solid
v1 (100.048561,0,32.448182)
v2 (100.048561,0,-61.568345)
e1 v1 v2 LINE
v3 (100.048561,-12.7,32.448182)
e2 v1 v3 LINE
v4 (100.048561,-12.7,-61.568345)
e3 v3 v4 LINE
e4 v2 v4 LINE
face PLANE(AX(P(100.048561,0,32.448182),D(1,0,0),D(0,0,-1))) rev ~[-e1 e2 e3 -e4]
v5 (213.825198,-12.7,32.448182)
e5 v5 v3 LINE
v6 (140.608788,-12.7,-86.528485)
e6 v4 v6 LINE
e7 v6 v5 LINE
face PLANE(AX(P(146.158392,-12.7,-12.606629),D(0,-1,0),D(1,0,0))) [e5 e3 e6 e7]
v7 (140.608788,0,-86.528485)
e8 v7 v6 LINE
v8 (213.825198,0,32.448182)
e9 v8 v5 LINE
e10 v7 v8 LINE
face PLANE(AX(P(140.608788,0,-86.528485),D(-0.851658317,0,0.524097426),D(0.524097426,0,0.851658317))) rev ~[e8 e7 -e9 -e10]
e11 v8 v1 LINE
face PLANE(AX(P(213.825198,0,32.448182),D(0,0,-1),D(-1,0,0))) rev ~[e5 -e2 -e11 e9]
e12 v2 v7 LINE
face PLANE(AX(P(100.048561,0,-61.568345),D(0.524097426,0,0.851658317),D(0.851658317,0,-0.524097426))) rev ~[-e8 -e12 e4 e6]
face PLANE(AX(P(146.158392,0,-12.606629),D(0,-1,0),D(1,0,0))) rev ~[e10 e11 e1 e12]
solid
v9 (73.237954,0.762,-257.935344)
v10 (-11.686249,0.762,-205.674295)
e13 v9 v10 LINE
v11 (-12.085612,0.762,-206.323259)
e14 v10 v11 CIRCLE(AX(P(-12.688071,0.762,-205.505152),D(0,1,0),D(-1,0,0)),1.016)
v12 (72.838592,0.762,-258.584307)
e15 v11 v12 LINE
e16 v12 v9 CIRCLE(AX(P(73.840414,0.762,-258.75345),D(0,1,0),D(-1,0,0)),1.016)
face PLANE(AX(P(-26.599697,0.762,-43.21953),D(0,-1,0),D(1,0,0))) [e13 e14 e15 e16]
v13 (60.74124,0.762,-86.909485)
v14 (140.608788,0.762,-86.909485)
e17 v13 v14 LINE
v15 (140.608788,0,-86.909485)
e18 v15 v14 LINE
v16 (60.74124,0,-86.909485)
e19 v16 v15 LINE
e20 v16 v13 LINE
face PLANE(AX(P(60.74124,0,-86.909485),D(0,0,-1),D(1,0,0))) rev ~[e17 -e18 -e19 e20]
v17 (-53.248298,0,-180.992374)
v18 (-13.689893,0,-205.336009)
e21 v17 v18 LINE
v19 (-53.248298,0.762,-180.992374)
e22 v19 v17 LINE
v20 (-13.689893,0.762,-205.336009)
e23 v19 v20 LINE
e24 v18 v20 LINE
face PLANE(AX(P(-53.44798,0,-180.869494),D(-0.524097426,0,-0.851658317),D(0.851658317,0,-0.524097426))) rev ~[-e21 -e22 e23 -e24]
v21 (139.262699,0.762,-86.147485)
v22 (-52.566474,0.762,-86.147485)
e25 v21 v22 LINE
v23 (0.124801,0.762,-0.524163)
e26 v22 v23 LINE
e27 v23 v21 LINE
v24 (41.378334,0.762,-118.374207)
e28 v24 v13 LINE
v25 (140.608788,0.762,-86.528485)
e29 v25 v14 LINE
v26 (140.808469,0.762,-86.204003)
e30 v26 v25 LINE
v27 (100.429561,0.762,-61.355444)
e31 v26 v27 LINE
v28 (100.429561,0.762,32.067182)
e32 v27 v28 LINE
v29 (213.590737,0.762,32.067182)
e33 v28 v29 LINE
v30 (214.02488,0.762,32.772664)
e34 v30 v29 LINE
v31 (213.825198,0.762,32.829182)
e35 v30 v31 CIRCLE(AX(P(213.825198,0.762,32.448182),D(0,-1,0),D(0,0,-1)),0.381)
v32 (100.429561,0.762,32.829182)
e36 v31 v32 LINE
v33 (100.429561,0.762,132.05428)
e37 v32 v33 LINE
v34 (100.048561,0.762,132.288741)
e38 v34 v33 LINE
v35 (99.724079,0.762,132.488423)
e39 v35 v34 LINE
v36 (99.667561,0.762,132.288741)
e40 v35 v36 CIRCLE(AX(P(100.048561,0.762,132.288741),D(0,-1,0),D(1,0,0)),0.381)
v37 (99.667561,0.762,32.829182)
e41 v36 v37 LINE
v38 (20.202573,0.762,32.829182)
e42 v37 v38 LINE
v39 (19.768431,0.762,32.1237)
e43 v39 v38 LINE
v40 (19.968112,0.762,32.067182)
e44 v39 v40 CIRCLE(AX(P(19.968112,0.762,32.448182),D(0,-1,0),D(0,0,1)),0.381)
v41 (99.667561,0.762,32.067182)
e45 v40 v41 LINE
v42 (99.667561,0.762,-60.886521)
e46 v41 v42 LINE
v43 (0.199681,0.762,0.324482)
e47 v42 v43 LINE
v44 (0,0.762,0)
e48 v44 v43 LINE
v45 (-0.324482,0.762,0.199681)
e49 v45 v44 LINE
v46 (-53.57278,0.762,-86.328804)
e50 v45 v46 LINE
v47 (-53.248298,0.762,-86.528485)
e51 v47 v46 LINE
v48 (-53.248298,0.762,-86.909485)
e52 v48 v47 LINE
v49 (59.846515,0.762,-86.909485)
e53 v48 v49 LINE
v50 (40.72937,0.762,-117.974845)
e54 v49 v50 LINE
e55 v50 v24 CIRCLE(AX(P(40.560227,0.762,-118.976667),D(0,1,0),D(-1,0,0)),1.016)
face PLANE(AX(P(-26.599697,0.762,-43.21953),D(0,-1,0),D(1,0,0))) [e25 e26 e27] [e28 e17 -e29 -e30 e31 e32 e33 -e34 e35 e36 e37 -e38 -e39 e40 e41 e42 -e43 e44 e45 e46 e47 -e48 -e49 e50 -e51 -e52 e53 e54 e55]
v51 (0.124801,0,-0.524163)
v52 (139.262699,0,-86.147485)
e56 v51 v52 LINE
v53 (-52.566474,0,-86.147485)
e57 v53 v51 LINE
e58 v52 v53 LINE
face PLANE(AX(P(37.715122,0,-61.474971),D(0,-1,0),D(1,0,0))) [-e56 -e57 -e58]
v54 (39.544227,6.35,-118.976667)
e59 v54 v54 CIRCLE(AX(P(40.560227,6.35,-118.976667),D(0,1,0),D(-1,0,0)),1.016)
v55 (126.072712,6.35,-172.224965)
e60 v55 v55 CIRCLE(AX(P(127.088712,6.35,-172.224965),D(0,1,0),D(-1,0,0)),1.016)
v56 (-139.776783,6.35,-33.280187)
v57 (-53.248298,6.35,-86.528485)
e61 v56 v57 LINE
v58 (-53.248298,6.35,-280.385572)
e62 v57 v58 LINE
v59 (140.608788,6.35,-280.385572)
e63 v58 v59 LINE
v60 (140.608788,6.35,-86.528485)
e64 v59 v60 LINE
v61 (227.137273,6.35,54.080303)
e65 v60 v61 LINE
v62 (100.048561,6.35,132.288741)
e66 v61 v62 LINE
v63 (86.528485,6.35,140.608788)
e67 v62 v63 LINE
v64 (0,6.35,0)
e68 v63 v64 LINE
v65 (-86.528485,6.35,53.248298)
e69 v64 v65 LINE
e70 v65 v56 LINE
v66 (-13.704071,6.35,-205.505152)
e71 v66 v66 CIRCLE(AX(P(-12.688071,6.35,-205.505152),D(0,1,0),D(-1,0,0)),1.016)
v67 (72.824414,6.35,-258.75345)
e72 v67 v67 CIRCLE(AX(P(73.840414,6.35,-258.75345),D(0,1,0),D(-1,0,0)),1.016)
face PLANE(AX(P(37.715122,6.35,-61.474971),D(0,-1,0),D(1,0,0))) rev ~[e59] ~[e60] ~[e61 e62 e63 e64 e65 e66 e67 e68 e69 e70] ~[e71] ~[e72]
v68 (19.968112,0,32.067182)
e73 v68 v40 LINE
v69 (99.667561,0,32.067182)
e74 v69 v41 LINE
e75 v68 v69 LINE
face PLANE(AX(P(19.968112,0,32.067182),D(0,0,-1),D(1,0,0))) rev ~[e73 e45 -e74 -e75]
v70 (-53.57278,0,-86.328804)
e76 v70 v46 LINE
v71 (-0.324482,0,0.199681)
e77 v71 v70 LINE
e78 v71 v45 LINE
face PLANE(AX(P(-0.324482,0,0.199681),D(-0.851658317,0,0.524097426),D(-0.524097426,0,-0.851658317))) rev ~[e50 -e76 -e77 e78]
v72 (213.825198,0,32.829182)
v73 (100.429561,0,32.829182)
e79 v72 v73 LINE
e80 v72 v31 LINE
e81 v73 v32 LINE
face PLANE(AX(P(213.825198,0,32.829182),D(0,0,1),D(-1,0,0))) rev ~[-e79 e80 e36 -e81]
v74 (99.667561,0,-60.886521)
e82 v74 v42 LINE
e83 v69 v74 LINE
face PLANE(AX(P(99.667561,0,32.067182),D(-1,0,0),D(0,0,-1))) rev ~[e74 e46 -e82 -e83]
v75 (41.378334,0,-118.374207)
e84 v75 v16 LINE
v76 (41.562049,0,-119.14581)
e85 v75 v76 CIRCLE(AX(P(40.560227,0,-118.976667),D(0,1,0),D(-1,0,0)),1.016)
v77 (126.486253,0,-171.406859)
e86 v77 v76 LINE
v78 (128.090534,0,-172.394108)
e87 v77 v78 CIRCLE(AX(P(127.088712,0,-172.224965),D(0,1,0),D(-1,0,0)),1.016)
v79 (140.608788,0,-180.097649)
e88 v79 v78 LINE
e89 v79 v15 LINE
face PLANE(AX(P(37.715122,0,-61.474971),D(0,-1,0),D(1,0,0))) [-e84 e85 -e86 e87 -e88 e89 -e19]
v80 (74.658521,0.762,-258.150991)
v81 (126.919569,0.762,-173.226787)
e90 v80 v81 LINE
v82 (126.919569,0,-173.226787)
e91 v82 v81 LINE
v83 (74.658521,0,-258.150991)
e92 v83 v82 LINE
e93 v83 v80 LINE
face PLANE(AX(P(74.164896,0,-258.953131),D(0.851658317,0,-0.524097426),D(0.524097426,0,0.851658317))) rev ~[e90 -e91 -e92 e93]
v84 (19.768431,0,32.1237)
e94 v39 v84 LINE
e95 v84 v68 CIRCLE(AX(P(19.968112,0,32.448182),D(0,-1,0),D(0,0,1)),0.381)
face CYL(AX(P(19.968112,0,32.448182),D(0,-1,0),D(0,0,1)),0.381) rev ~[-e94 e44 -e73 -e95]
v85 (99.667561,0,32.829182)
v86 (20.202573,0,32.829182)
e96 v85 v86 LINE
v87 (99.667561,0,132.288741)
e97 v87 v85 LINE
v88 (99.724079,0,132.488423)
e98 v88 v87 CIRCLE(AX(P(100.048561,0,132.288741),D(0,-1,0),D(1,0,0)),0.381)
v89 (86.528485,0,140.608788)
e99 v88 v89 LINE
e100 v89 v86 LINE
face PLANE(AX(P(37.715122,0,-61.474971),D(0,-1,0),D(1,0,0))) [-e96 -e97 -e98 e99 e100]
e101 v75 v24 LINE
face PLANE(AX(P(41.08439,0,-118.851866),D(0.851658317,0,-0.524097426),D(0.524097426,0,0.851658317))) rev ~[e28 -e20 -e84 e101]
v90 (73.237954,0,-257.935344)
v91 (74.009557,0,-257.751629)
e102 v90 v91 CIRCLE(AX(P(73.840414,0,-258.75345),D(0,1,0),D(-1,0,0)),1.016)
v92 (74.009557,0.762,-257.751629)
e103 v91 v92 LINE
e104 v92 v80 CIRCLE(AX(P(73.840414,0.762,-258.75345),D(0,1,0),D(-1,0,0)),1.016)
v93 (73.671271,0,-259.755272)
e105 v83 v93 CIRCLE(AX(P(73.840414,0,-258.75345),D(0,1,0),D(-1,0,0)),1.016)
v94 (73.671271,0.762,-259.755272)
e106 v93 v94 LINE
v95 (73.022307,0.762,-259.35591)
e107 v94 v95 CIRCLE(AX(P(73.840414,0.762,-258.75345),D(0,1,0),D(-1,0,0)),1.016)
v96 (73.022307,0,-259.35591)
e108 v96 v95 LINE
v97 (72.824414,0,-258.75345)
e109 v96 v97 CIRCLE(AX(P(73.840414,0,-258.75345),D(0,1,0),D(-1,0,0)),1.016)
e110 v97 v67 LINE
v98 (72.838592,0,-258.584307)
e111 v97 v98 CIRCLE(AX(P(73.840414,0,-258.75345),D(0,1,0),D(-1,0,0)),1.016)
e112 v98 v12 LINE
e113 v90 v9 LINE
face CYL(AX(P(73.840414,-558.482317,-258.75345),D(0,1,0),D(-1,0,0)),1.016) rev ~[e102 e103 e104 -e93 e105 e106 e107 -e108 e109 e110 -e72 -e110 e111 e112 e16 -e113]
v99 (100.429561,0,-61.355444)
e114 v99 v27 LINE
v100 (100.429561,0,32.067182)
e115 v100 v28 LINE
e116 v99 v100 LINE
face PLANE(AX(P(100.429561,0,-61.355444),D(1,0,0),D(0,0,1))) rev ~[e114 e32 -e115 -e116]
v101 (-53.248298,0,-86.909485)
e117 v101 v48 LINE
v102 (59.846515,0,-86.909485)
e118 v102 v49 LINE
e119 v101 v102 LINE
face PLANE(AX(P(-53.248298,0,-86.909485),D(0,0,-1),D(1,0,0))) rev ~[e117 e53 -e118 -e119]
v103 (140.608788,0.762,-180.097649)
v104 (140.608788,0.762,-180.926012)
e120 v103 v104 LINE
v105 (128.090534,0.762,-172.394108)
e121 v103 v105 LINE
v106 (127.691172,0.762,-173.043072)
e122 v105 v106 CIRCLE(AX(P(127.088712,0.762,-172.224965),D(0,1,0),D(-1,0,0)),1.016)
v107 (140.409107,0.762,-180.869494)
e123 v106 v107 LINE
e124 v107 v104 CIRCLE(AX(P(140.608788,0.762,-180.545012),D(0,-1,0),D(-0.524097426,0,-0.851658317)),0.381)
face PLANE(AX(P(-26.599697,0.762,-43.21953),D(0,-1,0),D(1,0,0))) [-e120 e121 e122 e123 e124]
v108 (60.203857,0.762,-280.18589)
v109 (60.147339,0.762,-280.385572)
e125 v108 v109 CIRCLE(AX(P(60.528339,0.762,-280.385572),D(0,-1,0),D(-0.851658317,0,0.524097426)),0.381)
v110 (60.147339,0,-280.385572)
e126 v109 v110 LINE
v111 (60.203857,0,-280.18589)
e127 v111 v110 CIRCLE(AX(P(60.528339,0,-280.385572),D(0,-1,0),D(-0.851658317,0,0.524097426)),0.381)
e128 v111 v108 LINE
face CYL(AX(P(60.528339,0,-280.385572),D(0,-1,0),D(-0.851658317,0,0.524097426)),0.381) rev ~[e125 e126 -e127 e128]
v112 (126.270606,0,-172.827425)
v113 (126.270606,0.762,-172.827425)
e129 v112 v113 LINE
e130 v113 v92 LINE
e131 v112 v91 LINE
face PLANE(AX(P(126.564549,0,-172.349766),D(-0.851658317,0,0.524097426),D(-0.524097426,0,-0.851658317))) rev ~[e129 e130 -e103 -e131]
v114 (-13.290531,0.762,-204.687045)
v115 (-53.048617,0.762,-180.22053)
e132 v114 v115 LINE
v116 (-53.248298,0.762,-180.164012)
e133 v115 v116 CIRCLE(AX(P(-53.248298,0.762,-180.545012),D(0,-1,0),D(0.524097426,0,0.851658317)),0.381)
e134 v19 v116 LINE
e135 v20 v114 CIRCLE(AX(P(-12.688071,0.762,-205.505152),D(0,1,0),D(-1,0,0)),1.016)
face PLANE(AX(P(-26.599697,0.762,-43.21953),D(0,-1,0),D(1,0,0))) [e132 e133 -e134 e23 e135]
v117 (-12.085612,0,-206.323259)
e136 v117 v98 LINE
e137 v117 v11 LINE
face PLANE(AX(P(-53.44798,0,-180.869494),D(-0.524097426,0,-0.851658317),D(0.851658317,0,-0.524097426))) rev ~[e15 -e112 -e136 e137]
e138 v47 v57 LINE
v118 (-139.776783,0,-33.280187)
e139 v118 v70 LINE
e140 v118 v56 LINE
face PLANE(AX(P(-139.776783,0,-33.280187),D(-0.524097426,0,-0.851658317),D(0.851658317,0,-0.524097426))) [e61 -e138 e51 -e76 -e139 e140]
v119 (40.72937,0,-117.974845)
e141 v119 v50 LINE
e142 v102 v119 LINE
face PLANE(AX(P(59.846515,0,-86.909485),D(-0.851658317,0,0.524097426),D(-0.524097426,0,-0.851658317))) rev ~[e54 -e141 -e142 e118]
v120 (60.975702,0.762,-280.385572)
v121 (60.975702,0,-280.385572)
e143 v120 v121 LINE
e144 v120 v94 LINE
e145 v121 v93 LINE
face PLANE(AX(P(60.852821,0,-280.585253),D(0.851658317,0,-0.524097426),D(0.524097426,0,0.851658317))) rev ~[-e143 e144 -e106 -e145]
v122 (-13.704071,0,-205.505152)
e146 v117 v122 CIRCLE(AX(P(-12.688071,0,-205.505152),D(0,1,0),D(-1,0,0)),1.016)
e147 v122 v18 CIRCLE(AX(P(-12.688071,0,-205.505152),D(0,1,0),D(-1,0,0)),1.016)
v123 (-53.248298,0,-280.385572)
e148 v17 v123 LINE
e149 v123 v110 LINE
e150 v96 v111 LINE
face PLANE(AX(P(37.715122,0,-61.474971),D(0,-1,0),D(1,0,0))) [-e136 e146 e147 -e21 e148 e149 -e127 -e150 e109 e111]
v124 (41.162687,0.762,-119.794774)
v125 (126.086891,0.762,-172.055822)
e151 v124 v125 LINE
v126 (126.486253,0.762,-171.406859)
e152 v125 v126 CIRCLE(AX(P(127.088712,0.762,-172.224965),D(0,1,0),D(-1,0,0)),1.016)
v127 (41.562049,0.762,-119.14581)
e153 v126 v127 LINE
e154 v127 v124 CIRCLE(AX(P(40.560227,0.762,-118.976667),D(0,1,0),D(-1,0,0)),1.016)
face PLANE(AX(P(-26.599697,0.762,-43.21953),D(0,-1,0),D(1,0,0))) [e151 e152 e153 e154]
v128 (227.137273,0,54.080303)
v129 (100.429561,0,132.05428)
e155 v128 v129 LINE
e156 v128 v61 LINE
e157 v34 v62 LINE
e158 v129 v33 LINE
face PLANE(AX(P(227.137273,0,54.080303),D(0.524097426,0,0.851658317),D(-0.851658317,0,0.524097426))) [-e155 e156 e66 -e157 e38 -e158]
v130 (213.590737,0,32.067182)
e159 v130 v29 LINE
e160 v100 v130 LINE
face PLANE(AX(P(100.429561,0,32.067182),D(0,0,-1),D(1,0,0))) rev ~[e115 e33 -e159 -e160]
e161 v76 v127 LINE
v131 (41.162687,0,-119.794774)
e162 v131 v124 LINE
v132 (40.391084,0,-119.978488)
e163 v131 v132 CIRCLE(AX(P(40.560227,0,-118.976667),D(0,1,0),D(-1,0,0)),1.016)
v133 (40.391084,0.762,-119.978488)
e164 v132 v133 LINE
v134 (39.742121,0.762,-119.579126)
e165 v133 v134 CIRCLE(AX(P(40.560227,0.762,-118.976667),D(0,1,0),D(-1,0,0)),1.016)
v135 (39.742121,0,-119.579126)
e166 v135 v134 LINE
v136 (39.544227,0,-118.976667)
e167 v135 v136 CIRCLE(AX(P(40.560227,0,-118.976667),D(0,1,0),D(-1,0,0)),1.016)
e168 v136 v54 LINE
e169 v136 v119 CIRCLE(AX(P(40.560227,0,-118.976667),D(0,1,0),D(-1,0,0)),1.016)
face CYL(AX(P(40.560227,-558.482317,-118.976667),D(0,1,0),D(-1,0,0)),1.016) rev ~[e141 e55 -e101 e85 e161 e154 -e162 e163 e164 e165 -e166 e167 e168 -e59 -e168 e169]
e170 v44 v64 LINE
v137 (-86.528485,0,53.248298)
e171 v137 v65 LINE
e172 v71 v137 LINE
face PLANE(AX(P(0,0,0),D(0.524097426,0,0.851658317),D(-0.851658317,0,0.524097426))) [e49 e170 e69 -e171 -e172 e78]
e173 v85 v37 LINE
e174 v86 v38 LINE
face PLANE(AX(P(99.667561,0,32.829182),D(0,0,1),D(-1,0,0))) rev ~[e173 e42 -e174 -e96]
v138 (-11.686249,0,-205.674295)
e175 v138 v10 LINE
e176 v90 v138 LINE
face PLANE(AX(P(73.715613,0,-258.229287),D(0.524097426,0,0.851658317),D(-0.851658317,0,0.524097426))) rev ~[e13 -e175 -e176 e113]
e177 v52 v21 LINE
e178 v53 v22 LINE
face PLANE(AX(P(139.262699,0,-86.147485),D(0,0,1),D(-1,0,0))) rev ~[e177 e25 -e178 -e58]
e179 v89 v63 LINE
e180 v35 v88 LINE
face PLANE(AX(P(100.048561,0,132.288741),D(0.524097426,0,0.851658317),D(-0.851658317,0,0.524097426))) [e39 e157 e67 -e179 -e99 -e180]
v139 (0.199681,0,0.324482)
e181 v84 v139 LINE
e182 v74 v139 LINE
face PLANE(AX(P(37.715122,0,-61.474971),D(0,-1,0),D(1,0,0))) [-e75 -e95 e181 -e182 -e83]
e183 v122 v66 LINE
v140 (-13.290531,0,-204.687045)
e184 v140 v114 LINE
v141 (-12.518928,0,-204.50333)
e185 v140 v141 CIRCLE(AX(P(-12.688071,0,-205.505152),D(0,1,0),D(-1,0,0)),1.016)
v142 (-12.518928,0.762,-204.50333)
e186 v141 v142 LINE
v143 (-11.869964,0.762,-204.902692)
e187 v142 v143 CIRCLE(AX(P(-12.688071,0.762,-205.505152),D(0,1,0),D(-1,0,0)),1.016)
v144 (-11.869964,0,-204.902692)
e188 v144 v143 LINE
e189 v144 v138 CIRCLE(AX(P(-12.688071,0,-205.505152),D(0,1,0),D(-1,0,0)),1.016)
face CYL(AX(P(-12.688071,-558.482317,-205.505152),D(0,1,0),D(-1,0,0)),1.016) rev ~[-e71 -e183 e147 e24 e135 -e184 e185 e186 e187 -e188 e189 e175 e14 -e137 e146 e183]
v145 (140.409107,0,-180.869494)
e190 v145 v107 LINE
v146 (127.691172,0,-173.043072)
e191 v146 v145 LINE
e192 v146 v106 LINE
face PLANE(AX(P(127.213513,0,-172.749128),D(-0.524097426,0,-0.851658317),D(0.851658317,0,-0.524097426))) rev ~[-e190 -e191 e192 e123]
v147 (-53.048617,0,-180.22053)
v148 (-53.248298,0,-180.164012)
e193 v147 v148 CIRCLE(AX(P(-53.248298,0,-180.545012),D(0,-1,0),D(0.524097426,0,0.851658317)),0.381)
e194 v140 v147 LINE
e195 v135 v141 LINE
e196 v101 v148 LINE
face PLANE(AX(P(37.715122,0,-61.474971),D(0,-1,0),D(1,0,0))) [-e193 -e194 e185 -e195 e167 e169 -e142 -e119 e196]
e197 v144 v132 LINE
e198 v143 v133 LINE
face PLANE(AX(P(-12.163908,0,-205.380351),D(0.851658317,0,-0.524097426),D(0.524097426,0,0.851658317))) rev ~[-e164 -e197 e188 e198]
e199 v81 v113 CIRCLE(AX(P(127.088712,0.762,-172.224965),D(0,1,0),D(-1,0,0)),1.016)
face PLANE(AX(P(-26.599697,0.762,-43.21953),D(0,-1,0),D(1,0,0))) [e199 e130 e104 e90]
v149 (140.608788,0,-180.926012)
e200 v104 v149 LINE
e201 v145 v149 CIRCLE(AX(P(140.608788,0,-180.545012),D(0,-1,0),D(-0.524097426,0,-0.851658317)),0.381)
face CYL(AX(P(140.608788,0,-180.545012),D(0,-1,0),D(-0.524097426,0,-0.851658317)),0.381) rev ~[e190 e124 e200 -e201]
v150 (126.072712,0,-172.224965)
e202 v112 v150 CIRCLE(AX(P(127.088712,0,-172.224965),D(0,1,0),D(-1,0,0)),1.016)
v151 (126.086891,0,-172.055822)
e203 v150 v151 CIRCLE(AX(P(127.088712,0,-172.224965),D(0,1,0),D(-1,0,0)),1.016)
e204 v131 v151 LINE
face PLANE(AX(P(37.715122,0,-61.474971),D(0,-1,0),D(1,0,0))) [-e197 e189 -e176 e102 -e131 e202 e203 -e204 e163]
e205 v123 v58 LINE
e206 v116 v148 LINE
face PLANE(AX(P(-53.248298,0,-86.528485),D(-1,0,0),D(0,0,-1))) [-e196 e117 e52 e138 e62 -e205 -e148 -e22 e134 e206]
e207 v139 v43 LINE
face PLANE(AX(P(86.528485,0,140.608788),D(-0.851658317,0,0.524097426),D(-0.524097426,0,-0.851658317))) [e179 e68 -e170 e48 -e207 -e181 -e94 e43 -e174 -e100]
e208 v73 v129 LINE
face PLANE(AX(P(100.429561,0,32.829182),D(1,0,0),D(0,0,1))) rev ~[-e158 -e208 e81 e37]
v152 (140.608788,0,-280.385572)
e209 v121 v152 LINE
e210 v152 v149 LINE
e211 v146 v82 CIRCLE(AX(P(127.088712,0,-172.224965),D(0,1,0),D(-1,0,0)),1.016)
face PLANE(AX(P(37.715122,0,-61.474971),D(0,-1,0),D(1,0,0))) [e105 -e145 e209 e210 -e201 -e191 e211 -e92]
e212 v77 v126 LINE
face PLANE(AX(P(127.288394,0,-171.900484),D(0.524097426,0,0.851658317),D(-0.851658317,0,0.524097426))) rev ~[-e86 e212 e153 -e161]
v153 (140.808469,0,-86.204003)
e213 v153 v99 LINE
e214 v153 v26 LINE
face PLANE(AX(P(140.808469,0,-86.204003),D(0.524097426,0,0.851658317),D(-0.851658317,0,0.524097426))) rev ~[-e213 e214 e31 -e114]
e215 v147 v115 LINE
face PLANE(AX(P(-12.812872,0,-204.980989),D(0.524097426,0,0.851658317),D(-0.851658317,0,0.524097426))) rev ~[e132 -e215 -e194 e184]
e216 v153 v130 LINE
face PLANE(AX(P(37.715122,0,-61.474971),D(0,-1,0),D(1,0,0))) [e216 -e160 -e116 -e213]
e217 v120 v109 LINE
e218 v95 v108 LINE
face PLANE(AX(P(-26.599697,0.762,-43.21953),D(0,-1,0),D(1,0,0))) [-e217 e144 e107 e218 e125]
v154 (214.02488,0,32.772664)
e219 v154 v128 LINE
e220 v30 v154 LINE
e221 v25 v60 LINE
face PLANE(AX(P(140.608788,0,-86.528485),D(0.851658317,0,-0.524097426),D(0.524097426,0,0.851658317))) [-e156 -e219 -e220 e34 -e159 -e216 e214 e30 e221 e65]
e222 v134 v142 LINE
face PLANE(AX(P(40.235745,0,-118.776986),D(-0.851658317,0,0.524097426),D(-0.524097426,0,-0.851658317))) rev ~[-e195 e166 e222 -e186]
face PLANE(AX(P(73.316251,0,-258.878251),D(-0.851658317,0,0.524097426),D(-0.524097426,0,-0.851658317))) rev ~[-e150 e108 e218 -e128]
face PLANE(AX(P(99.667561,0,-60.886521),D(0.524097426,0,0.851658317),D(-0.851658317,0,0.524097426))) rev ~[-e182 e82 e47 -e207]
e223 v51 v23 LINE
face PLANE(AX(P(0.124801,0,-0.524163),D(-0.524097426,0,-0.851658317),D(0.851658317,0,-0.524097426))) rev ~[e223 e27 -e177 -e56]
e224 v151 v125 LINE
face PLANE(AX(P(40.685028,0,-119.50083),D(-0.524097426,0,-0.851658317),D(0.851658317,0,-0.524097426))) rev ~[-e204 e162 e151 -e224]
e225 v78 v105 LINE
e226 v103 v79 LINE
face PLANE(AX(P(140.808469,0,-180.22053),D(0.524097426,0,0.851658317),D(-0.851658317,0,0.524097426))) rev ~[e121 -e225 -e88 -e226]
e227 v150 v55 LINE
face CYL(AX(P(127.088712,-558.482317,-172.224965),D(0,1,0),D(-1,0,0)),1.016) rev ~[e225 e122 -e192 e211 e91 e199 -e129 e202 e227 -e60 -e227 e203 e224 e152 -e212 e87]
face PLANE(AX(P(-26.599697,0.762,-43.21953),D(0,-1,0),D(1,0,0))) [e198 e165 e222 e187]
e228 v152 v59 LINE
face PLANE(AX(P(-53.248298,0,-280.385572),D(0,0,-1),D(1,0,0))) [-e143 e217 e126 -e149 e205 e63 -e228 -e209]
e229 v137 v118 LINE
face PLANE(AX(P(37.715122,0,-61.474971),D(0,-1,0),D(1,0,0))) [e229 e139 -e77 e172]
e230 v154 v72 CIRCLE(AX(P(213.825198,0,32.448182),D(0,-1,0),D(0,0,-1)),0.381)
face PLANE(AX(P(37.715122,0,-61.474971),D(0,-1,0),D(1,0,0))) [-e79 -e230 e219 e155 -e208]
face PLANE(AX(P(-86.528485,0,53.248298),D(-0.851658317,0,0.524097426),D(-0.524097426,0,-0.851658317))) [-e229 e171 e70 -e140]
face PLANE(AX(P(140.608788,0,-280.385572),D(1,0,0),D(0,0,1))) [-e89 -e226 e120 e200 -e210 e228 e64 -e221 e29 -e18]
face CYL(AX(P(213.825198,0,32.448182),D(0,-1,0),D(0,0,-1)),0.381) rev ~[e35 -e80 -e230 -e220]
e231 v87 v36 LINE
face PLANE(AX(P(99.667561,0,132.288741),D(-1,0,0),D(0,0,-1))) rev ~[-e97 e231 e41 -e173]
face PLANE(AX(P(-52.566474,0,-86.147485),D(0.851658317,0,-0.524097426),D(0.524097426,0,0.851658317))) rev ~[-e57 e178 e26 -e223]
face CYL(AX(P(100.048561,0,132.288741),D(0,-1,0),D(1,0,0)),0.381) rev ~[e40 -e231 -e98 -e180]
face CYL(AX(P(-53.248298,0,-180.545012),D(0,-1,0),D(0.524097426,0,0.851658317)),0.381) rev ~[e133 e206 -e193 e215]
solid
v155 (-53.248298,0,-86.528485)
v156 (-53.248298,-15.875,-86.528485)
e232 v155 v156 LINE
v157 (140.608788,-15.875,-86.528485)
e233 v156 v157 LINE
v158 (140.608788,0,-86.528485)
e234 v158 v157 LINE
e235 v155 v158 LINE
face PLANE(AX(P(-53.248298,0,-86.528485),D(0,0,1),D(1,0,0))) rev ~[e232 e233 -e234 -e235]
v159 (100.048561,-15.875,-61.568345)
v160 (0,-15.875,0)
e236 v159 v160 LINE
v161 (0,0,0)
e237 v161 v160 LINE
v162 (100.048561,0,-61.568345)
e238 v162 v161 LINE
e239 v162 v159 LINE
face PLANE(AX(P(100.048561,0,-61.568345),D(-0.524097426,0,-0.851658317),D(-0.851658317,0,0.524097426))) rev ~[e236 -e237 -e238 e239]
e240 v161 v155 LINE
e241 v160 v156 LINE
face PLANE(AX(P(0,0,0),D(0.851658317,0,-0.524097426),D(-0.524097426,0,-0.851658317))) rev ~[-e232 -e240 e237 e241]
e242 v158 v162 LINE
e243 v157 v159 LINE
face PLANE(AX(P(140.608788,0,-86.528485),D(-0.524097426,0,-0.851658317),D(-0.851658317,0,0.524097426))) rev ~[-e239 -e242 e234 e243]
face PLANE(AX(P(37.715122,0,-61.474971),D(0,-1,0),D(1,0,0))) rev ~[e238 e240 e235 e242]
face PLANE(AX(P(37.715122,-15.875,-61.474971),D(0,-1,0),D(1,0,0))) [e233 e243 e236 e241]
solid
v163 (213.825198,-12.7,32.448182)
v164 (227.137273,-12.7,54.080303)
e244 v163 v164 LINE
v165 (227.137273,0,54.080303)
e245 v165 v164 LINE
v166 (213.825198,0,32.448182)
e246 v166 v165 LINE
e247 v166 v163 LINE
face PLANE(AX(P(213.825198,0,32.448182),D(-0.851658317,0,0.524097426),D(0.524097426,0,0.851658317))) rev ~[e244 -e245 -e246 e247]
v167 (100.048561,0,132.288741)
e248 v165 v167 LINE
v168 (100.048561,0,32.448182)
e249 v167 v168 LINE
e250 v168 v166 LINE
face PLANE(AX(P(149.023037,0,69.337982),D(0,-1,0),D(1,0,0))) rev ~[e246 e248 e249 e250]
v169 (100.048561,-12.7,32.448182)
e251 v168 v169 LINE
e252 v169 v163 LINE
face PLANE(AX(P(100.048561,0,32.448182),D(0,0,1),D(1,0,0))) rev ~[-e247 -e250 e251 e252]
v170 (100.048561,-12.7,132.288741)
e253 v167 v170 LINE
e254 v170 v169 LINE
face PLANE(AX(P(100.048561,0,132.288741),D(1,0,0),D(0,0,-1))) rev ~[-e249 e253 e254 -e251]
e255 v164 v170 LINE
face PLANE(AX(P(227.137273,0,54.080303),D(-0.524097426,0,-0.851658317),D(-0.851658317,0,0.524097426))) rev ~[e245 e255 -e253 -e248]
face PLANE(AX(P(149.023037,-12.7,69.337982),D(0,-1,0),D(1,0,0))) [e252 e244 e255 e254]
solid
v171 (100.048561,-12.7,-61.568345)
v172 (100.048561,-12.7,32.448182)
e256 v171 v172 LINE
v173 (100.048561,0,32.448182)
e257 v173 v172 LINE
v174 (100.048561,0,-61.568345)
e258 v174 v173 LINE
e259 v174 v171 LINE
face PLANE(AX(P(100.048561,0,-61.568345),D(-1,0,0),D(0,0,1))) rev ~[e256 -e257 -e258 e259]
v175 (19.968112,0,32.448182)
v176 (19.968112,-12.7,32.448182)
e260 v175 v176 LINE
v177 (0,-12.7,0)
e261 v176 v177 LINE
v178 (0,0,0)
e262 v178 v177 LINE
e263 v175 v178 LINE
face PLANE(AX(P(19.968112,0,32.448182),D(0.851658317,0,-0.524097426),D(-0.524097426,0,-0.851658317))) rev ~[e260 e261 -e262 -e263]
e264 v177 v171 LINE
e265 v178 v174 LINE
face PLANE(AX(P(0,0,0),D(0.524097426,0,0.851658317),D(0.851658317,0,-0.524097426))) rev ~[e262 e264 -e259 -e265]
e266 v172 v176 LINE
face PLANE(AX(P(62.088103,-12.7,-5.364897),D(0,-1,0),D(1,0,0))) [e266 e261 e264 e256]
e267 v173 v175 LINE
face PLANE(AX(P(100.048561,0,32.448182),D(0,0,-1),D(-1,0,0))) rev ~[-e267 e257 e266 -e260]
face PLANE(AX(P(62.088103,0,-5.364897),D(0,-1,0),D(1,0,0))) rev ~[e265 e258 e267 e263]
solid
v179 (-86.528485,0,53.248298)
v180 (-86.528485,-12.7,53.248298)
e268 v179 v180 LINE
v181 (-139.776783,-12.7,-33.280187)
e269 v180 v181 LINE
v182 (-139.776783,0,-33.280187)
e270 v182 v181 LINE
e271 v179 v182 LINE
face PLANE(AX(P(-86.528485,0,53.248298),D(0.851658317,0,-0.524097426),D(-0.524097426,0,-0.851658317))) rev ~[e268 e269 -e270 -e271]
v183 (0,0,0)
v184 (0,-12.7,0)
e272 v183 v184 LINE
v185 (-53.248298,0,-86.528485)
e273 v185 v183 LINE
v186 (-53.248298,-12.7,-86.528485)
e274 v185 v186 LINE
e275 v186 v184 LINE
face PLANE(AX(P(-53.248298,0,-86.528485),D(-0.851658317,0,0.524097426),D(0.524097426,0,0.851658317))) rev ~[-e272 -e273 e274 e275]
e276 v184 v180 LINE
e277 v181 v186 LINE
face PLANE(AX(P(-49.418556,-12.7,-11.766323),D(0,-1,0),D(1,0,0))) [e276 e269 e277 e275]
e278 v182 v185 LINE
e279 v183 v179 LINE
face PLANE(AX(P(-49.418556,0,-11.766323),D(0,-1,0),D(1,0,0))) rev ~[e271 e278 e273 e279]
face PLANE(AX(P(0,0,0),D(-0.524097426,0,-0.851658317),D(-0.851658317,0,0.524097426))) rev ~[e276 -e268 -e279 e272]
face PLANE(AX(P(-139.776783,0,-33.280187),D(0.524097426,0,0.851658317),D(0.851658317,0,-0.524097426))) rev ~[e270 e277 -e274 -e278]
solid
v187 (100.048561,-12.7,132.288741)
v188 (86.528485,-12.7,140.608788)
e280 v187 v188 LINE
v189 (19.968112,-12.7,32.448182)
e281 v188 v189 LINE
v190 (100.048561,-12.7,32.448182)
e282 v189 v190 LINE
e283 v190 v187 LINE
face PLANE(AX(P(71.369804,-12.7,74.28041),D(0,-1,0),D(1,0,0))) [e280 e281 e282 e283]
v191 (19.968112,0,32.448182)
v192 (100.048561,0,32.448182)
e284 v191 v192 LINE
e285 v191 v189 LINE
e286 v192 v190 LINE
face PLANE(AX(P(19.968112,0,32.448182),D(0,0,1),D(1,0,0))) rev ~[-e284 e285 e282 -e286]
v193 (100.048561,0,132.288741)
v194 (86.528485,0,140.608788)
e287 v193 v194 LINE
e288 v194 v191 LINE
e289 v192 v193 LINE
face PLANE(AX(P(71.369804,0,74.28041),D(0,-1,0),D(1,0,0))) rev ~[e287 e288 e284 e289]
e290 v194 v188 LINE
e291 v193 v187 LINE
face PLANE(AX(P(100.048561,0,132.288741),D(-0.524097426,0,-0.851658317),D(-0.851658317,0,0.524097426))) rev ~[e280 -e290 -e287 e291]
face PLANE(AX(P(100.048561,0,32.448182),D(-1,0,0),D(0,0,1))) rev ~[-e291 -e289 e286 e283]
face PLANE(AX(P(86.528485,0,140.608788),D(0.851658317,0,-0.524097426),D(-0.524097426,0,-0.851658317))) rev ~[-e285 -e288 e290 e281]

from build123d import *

# Parameters (mm, degrees)
F1_DEPTH = 6.35
F2_DEPTH = 15.875
F3_DEPTH = 12.7
F4_DEPTH = 12.7
F5_DEPTH = 12.7
F6_DEPTH = 12.7
F7_DEPTH = 12.7
F8_W     = 0.762
F8_H     = 0.762
F9_DEPTH = 0.762
F10_D    = 2.032


with BuildPart() as f1:
    # F0 (on Front) → F1 (new body)
    with BuildSketch(Plane.XZ):
        Polygon((100.0485607549, -61.5683450799), (0, 0), (-53.2482984475, -86.5284849772), (60.5283392509, -86.5284849772), (140.6087880879, -86.5284849772), align=None)
        Polygon((19.9681119178, 32.4481818664), (0, 0), (100.0485607549, -61.5683450799), (100.0485607549, 32.4481818664), align=None)
        Polygon((100.0485607549, 32.4481818664), (100.0485607549, -61.5683450799), (140.6087880879, -86.5284849772), (213.8251984532, 32.4481818664), align=None)
        Polygon((-53.2482984475, -86.5284849772), (0, 0), (-86.5284849772, 53.2482984475), align=None)
        Polygon((60.5283392509, -86.5284849772), (-53.2482984475, -86.5284849772), (-53.2482984475, -180.5450119235), (-12.6880711144, -205.5051518208), (40.5602273331, -118.9766668436), align=None)
        Polygon((-12.6880711144, -205.5051518208), (-53.2482984475, -180.5450119235), (-53.2482984475, -280.3855715126), (60.5283392509, -280.3855715126), (73.8404138627, -258.7534502683), align=None)
        Polygon((86.5284849772, 140.6087880879), (19.9681119178, 32.4481818664), (100.0485607549, 32.4481818664), (100.0485607549, 132.2887414555), align=None)
        Polygon((100.0485607549, 132.2887414555), (100.0485607549, 32.4481818664), (213.8251984532, 32.4481818664), (227.1372730651, 54.0803031107), align=None)
        Polygon((-139.7767834247, -33.2801865297), (-53.2482984475, -86.5284849772), (-86.5284849772, 53.2482984475), align=None)
        Polygon((140.6087880879, -86.5284849772), (60.5283392509, -86.5284849772), (40.5602273331, -118.9766668436), (127.0887123102, -172.2249652911), (140.6087880879, -180.5450119235), align=None)
        Polygon((127.0887123102, -172.2249652911), (40.5602273331, -118.9766668436), (-12.6880711144, -205.5051518208), (73.8404138627, -258.7534502683), align=None)
        Polygon((140.6087880879, -280.3855715126), (140.6087880879, -180.5450119235), (127.0887123102, -172.2249652911), (73.8404138627, -258.7534502683), (60.5283392509, -280.3855715126), align=None)
    extrude(amount=-F1_DEPTH)

    # F8 (on face) → F9 (cut)
    with BuildSketch(Plane.XZ):
        with BuildLine():
            ThreePointArc((-0.1996811192, -0.3244818187), (-0.3706391678, -0.0882474209), (-0.3244818187, 0.1996811192))
            Line((-0.3244818187, 0.1996811192), (-53.5727802662, -86.328803858))
            ThreePointArc((-53.5727802662, -86.328803858), (-53.4341512032, -86.1958894974), (-53.2482984475, -86.1474849772))
            Line((-53.2482984475, -86.1474849772), (-52.5664744016, -86.1474849772))
            Line((-52.5664744016, -86.1474849772), (0.1248006995, -0.5241629378))
            Line((0.1248006995, -0.5241629378), (-0.1996811192, -0.3244818187))
        make_face()
        with BuildLine():
            ThreePointArc((0.1996811192, 0.3244818187), (-0.0882474209, 0.3706391678), (-0.3244818187, 0.1996811192))
            ThreePointArc((-0.3244818187, 0.1996811192), (-0.3706391678, -0.0882474209), (-0.1996811192, -0.3244818187))
            Line((-0.1996811192, -0.3244818187), (0.1248006995, -0.5241629378))
            Line((0.1248006995, -0.5241629378), (0.3244818187, -0.1996811192))
            ThreePointArc((0.3244818187, -0.1996811192), (0.3706391678, 0.0882474209), (0.1996811192, 0.3244818187))
        make_face()
        with BuildLine():
            Line((99.6675607549, -60.8865210341), (0.1996811192, 0.3244818187))
            ThreePointArc((0.1996811192, 0.3244818187), (0.3706391678, 0.0882474209), (0.3244818187, -0.1996811192))
            Line((0.3244818187, -0.1996811192), (0.1248006995, -0.5241629378))
            Line((0.1248006995, -0.5241629378), (99.8488795797, -61.8928268641))
            ThreePointArc((99.8488795797, -61.8928268641), (99.715965259, -61.7541978069), (99.6675607549, -61.5683450799))
            Line((99.6675607549, -61.5683450799), (99.6675607549, -60.8865210341))
        make_face()
        with BuildLine():
            ThreePointArc((-53.2482984475, -86.1474849772), (-53.4341512032, -86.1958894974), (-53.5727802662, -86.328803858))
            ThreePointArc((-53.5727802662, -86.328803858), (-53.5808939273, -86.7143377329), (-53.2482984475, -86.9094849772))
            ThreePointArc((-53.2482984475, -86.9094849772), (-53.0624456918, -86.861080457), (-52.9238166288, -86.7281660964))
            Line((-52.9238166288, -86.7281660964), (-52.5664744016, -86.1474849772))
            Line((-52.5664744016, -86.1474849772), (-53.2482984475, -86.1474849772))
        make_face()
        Polygon((99.6675607549, 32.0671818664), (99.6675607549, -60.8865210341), (100.4295607549, -61.355444111), (100.4295607549, 32.0671818664), align=None)
        with BuildLine():
            Line((100.4295607549, -61.355444111), (99.6675607549, -60.8865210341))
            Line((99.6675607549, -60.8865210341), (99.6675607549, -61.5683450799))
            ThreePointArc((99.6675607549, -61.5683450799), (99.715965259, -61.7541978069), (99.8488795797, -61.8928268641))
            ThreePointArc((99.8488795797, -61.8928268641), (100.2344134819, -61.9009405758), (100.4295607549, -61.5683450799))
            Line((100.4295607549, -61.5683450799), (100.4295607549, -61.355444111))
        make_face()
        with BuildLine():
            ThreePointArc((-52.9238166288, -86.7281660964), (-53.0624456918, -86.861080457), (-53.2482984475, -86.9094849772))
            Line((-53.2482984475, -86.9094849772), (59.846515205, -86.9094849772))
            Line((59.846515205, -86.9094849772), (60.2038574322, -86.328803858))
            ThreePointArc((60.2038574322, -86.328803858), (60.3424864952, -86.1958894974), (60.5283392509, -86.1474849772))
            Line((60.5283392509, -86.1474849772), (-52.5664744016, -86.1474849772))
            Line((-52.5664744016, -86.1474849772), (-52.9238166288, -86.7281660964))
        make_face()
        with BuildLine():
            Line((140.8084692071, -86.2040031585), (100.4295607549, -61.355444111))
            Line((100.4295607549, -61.355444111), (100.4295607549, -61.5683450799))
            ThreePointArc((100.4295607549, -61.5683450799), (100.2344134819, -61.9009405758), (99.8488795797, -61.8928268641))
            Line((99.8488795797, -61.8928268641), (139.2626990134, -86.1474849772))
            Line((139.2626990134, -86.1474849772), (140.6087880879, -86.1474849772))
            ThreePointArc((140.6087880879, -86.1474849772), (140.7125508633, -86.1618867142), (140.8084692071, -86.2040031585))
        make_face()
        with BuildLine():
            Line((19.9681119178, 32.0671818664), (99.6675607549, 32.0671818664))
            Line((99.6675607549, 32.0671818664), (99.6675607549, 32.8291818664))
            Line((99.6675607549, 32.8291818664), (19.9681119178, 32.8291818664))
            ThreePointArc((19.9681119178, 32.8291818664), (19.5871119178, 32.4481818664), (19.9681119178, 32.0671818664))
        make_face()
        with Locations((100.0485607549, 32.4481818664)):
            Rectangle(F8_W, F8_H)
        with BuildLine():
            Line((60.2038574322, -86.328803858), (59.846515205, -86.9094849772))
            Line((59.846515205, -86.9094849772), (60.7412402198, -86.9094849772))
            Line((60.7412402198, -86.9094849772), (60.8528210695, -86.7281660964))
            ThreePointArc((60.8528210695, -86.7281660964), (60.8609347307, -86.3426322215), (60.5283392509, -86.1474849772))
            ThreePointArc((60.5283392509, -86.1474849772), (60.3424864952, -86.1958894974), (60.2038574322, -86.328803858))
        make_face()
        with BuildLine():
            Line((60.7412402198, -86.9094849772), (59.846515205, -86.9094849772))
            Line((59.846515205, -86.9094849772), (40.2357454511, -118.7769858272))
            ThreePointArc((40.2357454511, -118.7769858272), (40.4719798534, -118.6060276898), (40.7599084522, -118.652185025))
            Line((40.7599084522, -118.652185025), (41.0843902709, -118.8518661441))
            Line((41.0843902709, -118.8518661441), (60.7412402198, -86.9094849772))
        make_face()
        with BuildLine():
            ThreePointArc((140.6087880879, -86.9094849772), (140.9753863509, -86.6322477525), (140.8084692071, -86.2040031585))
            ThreePointArc((140.8084692071, -86.2040031585), (140.7125508633, -86.1618867142), (140.6087880879, -86.1474849772))
            Line((140.6087880879, -86.1474849772), (139.2626990134, -86.1474849772))
            Line((139.2626990134, -86.1474849772), (140.4091069687, -86.8529667958))
            ThreePointArc((140.4091069687, -86.8529667958), (140.5050253126, -86.8950832402), (140.6087880879, -86.9094849772))
        make_face()
        with BuildLine():
            Line((100.4295607549, 32.8291818664), (100.4295607549, 32.0671818664))
            Line((100.4295607549, 32.0671818664), (213.8251984532, 32.0671818664))
            ThreePointArc((213.8251984532, 32.0671818664), (214.2061984532, 32.4481818664), (213.8251984532, 32.8291818664))
            Line((213.8251984532, 32.8291818664), (100.4295607549, 32.8291818664))
        make_face()
        with BuildLine():
            Line((99.6675607549, 132.2887414555), (99.6675607549, 32.8291818664))
            Line((99.6675607549, 32.8291818664), (100.4295607549, 32.8291818664))
            Line((100.4295607549, 32.8291818664), (100.4295607549, 132.2887414555))
            ThreePointArc((100.4295607549, 132.2887414555), (100.0485607549, 132.6697414555), (99.6675607549, 132.2887414555))
        make_face()
        with BuildLine():
            Line((60.8528210695, -86.7281660964), (60.7412402198, -86.9094849772))
            Line((60.7412402198, -86.9094849772), (140.6087880879, -86.9094849772))
            ThreePointArc((140.6087880879, -86.9094849772), (140.5050253126, -86.8950832402), (140.4091069687, -86.8529667958))
            Line((140.4091069687, -86.8529667958), (139.2626990134, -86.1474849772))
            Line((139.2626990134, -86.1474849772), (60.5283392509, -86.1474849772))
            ThreePointArc((60.5283392509, -86.1474849772), (60.8609347307, -86.3426322215), (60.8528210695, -86.7281660964))
        make_face()
        with BuildLine():
            ThreePointArc((40.3605462139, -119.3011486623), (40.1895881792, -119.0649143232), (40.2357454511, -118.7769858272))
            Line((40.2357454511, -118.7769858272), (-12.8128718139, -204.980988883))
            Line((-12.8128718139, -204.980988883), (-12.1639081766, -205.3803511213))
            Line((-12.1639081766, -205.3803511213), (40.6850280325, -119.5008297815))
            Line((40.6850280325, -119.5008297815), (40.3605462139, -119.3011486623))
        make_face()
        with BuildLine():
            ThreePointArc((40.7599084522, -118.652185025), (40.4719798534, -118.6060276898), (40.2357454511, -118.7769858272))
            ThreePointArc((40.2357454511, -118.7769858272), (40.1895881792, -119.0649143232), (40.3605462139, -119.3011486623))
            Line((40.3605462139, -119.3011486623), (40.6850280325, -119.5008297815))
            Line((40.6850280325, -119.5008297815), (41.0843902709, -118.8518661441))
            Line((41.0843902709, -118.8518661441), (40.7599084522, -118.652185025))
        make_face()
        with BuildLine():
            Line((127.288393621, -171.9004835903), (41.0843902709, -118.8518661441))
            Line((41.0843902709, -118.8518661441), (40.6850280325, -119.5008297815))
            Line((40.6850280325, -119.5008297815), (126.5645493724, -172.3497659906))
            Line((126.5645493724, -172.3497659906), (126.7642304916, -172.0252841719))
            ThreePointArc((126.7642304916, -172.0252841719), (127.0004649987, -171.8543260973), (127.288393621, -171.9004835903))
        make_face()
        with BuildLine():
            Line((-12.1639081766, -205.3803511213), (-12.8128718139, -204.980988883))
            Line((-12.8128718139, -204.980988883), (-13.0125529331, -205.3054707016))
            ThreePointArc((-13.0125529331, -205.3054707016), (-13.0587102847, -205.5933992313), (-12.8877522518, -205.8296336283))
            ThreePointArc((-12.8877522518, -205.8296336283), (-12.5998237039, -205.8757909911), (-12.3635892958, -205.70483294))
            Line((-12.3635892958, -205.70483294), (-12.1639081766, -205.3803511213))
        make_face()
        with BuildLine():
            Line((-13.0125529331, -205.3054707016), (-12.8128718139, -204.980988883))
            Line((-12.8128718139, -204.980988883), (-53.0486173283, -180.2205301049))
            ThreePointArc((-53.0486173283, -180.2205301049), (-53.5727802662, -180.3453308044), (-53.4479795667, -180.8694937422))
            Line((-53.4479795667, -180.8694937422), (-12.8877522518, -205.8296336283))
            ThreePointArc((-12.8877522518, -205.8296336283), (-13.0587102847, -205.5933992313), (-13.0125529331, -205.3054707016))
        make_face()
        with BuildLine():
            ThreePointArc((127.4131941289, -172.4246464103), (127.4593515041, -172.1367179796), (127.288393621, -171.9004835903))
            ThreePointArc((127.288393621, -171.9004835903), (127.0004649987, -171.8543260973), (126.7642304916, -172.0252841719))
            Line((126.7642304916, -172.0252841719), (126.5645493724, -172.3497659906))
            Line((126.5645493724, -172.3497659906), (127.2135130097, -172.749128229))
            Line((127.2135130097, -172.749128229), (127.4131941289, -172.4246464103))
        make_face()
        with BuildLine():
            Line((140.8084692071, -180.2205301049), (127.288393621, -171.9004835903))
            ThreePointArc((127.288393621, -171.9004835903), (127.4593515041, -172.1367179796), (127.4131941289, -172.4246464103))
            Line((127.4131941289, -172.4246464103), (127.2135130097, -172.749128229))
            Line((127.2135130097, -172.749128229), (140.4091069687, -180.8694937422))
            ThreePointArc((140.4091069687, -180.8694937422), (140.9332699066, -180.7446930427), (140.8084692071, -180.2205301049))
        make_face()
        with BuildLine():
            Line((73.7156131633, -258.2292873305), (-12.1639081766, -205.3803511213))
            Line((-12.1639081766, -205.3803511213), (-12.3635892958, -205.70483294))
            ThreePointArc((-12.3635892958, -205.70483294), (-12.5998237039, -205.8757909911), (-12.8877522518, -205.8296336283))
            Line((-12.8877522518, -205.8296336283), (73.3162509249, -258.8782509678))
            Line((73.3162509249, -258.8782509678), (73.7156131633, -258.2292873305))
        make_face()
        with BuildLine():
            Line((127.2135130097, -172.749128229), (126.5645493724, -172.3497659906))
            Line((126.5645493724, -172.3497659906), (73.7156131633, -258.2292873305))
            Line((73.7156131633, -258.2292873305), (74.0400949819, -258.4289684496))
            ThreePointArc((74.0400949819, -258.4289684496), (74.2110530292, -258.6652028416), (74.1648956876, -258.9531313773))
            Line((74.1648956876, -258.9531313773), (127.2135130097, -172.749128229))
        make_face()
        with BuildLine():
            Line((74.0400949819, -258.4289684496), (73.7156131633, -258.2292873305))
            Line((73.7156131633, -258.2292873305), (73.3162509249, -258.8782509678))
            Line((73.3162509249, -258.8782509678), (73.6407327436, -259.077932087))
            ThreePointArc((73.6407327436, -259.077932087), (73.9286612894, -259.1240894347), (74.1648956876, -258.9531313773))
            ThreePointArc((74.1648956876, -258.9531313773), (74.2110530292, -258.6652028416), (74.0400949819, -258.4289684496))
        make_face()
        with BuildLine():
            Line((73.6407327436, -259.077932087), (73.3162509249, -258.8782509678))
            Line((73.3162509249, -258.8782509678), (60.2038574322, -280.1858903934))
            ThreePointArc((60.2038574322, -280.1858903934), (60.3286581317, -280.7100533313), (60.8528210695, -280.5852526318))
            Line((60.8528210695, -280.5852526318), (74.1648956876, -258.9531313773))
            ThreePointArc((74.1648956876, -258.9531313773), (73.9286612894, -259.1240894347), (73.6407327436, -259.077932087))
        make_face()
    extrude(amount=-F9_DEPTH, mode=Mode.SUBTRACT)

    # F10 (through all)
    with Locations(Plane.XZ):
        with Locations((40.5602273331, -118.9766668436), (127.0887123102, -172.2249652911), (73.8404138627, -258.7534502683), (-12.6880711144, -205.5051518208)):
            Hole(F10_D / 2)


with BuildPart() as f2:
    # F0 (on Front) → F2 (new body)
    with BuildSketch(Plane.XZ):
        Polygon((100.0485607549, -61.5683450799), (0, 0), (-53.2482984475, -86.5284849772), (60.5283392509, -86.5284849772), (140.6087880879, -86.5284849772), align=None)
    extrude(amount=F2_DEPTH)


with BuildPart() as f3:
    # F0 (on Front) → F3 (new body)
    with BuildSketch(Plane.XZ):
        Polygon((100.0485607549, 132.2887414555), (100.0485607549, 32.4481818664), (213.8251984532, 32.4481818664), (227.1372730651, 54.0803031107), align=None)
    extrude(amount=F3_DEPTH)


with BuildPart() as f4:
    # F0 (on Front) → F4 (new body)
    with BuildSketch(Plane.XZ):
        Polygon((86.5284849772, 140.6087880879), (19.9681119178, 32.4481818664), (100.0485607549, 32.4481818664), (100.0485607549, 132.2887414555), align=None)
    extrude(amount=F4_DEPTH)


with BuildPart() as f5:
    # F0 (on Front) → F5 (new body)
    with BuildSketch(Plane.XZ):
        Polygon((100.0485607549, 32.4481818664), (100.0485607549, -61.5683450799), (140.6087880879, -86.5284849772), (213.8251984532, 32.4481818664), align=None)
    extrude(amount=F5_DEPTH)


with BuildPart() as f6:
    # F0 (on Front) → F6 (new body)
    with BuildSketch(Plane.XZ):
        Polygon((19.9681119178, 32.4481818664), (0, 0), (100.0485607549, -61.5683450799), (100.0485607549, 32.4481818664), align=None)
    extrude(amount=F6_DEPTH)


with BuildPart() as f7:
    # F0 (on Front) → F7 (new body)
    with BuildSketch(Plane.XZ):
        Polygon((-53.2482984475, -86.5284849772), (0, 0), (-86.5284849772, 53.2482984475), align=None)
        Polygon((-139.7767834247, -33.2801865297), (-53.2482984475, -86.5284849772), (-86.5284849772, 53.2482984475), align=None)
    extrude(amount=F7_DEPTH)


solid = Compound([f1.part, f2.part, f3.part, f4.part, f5.part, f6.part, f7.part])
